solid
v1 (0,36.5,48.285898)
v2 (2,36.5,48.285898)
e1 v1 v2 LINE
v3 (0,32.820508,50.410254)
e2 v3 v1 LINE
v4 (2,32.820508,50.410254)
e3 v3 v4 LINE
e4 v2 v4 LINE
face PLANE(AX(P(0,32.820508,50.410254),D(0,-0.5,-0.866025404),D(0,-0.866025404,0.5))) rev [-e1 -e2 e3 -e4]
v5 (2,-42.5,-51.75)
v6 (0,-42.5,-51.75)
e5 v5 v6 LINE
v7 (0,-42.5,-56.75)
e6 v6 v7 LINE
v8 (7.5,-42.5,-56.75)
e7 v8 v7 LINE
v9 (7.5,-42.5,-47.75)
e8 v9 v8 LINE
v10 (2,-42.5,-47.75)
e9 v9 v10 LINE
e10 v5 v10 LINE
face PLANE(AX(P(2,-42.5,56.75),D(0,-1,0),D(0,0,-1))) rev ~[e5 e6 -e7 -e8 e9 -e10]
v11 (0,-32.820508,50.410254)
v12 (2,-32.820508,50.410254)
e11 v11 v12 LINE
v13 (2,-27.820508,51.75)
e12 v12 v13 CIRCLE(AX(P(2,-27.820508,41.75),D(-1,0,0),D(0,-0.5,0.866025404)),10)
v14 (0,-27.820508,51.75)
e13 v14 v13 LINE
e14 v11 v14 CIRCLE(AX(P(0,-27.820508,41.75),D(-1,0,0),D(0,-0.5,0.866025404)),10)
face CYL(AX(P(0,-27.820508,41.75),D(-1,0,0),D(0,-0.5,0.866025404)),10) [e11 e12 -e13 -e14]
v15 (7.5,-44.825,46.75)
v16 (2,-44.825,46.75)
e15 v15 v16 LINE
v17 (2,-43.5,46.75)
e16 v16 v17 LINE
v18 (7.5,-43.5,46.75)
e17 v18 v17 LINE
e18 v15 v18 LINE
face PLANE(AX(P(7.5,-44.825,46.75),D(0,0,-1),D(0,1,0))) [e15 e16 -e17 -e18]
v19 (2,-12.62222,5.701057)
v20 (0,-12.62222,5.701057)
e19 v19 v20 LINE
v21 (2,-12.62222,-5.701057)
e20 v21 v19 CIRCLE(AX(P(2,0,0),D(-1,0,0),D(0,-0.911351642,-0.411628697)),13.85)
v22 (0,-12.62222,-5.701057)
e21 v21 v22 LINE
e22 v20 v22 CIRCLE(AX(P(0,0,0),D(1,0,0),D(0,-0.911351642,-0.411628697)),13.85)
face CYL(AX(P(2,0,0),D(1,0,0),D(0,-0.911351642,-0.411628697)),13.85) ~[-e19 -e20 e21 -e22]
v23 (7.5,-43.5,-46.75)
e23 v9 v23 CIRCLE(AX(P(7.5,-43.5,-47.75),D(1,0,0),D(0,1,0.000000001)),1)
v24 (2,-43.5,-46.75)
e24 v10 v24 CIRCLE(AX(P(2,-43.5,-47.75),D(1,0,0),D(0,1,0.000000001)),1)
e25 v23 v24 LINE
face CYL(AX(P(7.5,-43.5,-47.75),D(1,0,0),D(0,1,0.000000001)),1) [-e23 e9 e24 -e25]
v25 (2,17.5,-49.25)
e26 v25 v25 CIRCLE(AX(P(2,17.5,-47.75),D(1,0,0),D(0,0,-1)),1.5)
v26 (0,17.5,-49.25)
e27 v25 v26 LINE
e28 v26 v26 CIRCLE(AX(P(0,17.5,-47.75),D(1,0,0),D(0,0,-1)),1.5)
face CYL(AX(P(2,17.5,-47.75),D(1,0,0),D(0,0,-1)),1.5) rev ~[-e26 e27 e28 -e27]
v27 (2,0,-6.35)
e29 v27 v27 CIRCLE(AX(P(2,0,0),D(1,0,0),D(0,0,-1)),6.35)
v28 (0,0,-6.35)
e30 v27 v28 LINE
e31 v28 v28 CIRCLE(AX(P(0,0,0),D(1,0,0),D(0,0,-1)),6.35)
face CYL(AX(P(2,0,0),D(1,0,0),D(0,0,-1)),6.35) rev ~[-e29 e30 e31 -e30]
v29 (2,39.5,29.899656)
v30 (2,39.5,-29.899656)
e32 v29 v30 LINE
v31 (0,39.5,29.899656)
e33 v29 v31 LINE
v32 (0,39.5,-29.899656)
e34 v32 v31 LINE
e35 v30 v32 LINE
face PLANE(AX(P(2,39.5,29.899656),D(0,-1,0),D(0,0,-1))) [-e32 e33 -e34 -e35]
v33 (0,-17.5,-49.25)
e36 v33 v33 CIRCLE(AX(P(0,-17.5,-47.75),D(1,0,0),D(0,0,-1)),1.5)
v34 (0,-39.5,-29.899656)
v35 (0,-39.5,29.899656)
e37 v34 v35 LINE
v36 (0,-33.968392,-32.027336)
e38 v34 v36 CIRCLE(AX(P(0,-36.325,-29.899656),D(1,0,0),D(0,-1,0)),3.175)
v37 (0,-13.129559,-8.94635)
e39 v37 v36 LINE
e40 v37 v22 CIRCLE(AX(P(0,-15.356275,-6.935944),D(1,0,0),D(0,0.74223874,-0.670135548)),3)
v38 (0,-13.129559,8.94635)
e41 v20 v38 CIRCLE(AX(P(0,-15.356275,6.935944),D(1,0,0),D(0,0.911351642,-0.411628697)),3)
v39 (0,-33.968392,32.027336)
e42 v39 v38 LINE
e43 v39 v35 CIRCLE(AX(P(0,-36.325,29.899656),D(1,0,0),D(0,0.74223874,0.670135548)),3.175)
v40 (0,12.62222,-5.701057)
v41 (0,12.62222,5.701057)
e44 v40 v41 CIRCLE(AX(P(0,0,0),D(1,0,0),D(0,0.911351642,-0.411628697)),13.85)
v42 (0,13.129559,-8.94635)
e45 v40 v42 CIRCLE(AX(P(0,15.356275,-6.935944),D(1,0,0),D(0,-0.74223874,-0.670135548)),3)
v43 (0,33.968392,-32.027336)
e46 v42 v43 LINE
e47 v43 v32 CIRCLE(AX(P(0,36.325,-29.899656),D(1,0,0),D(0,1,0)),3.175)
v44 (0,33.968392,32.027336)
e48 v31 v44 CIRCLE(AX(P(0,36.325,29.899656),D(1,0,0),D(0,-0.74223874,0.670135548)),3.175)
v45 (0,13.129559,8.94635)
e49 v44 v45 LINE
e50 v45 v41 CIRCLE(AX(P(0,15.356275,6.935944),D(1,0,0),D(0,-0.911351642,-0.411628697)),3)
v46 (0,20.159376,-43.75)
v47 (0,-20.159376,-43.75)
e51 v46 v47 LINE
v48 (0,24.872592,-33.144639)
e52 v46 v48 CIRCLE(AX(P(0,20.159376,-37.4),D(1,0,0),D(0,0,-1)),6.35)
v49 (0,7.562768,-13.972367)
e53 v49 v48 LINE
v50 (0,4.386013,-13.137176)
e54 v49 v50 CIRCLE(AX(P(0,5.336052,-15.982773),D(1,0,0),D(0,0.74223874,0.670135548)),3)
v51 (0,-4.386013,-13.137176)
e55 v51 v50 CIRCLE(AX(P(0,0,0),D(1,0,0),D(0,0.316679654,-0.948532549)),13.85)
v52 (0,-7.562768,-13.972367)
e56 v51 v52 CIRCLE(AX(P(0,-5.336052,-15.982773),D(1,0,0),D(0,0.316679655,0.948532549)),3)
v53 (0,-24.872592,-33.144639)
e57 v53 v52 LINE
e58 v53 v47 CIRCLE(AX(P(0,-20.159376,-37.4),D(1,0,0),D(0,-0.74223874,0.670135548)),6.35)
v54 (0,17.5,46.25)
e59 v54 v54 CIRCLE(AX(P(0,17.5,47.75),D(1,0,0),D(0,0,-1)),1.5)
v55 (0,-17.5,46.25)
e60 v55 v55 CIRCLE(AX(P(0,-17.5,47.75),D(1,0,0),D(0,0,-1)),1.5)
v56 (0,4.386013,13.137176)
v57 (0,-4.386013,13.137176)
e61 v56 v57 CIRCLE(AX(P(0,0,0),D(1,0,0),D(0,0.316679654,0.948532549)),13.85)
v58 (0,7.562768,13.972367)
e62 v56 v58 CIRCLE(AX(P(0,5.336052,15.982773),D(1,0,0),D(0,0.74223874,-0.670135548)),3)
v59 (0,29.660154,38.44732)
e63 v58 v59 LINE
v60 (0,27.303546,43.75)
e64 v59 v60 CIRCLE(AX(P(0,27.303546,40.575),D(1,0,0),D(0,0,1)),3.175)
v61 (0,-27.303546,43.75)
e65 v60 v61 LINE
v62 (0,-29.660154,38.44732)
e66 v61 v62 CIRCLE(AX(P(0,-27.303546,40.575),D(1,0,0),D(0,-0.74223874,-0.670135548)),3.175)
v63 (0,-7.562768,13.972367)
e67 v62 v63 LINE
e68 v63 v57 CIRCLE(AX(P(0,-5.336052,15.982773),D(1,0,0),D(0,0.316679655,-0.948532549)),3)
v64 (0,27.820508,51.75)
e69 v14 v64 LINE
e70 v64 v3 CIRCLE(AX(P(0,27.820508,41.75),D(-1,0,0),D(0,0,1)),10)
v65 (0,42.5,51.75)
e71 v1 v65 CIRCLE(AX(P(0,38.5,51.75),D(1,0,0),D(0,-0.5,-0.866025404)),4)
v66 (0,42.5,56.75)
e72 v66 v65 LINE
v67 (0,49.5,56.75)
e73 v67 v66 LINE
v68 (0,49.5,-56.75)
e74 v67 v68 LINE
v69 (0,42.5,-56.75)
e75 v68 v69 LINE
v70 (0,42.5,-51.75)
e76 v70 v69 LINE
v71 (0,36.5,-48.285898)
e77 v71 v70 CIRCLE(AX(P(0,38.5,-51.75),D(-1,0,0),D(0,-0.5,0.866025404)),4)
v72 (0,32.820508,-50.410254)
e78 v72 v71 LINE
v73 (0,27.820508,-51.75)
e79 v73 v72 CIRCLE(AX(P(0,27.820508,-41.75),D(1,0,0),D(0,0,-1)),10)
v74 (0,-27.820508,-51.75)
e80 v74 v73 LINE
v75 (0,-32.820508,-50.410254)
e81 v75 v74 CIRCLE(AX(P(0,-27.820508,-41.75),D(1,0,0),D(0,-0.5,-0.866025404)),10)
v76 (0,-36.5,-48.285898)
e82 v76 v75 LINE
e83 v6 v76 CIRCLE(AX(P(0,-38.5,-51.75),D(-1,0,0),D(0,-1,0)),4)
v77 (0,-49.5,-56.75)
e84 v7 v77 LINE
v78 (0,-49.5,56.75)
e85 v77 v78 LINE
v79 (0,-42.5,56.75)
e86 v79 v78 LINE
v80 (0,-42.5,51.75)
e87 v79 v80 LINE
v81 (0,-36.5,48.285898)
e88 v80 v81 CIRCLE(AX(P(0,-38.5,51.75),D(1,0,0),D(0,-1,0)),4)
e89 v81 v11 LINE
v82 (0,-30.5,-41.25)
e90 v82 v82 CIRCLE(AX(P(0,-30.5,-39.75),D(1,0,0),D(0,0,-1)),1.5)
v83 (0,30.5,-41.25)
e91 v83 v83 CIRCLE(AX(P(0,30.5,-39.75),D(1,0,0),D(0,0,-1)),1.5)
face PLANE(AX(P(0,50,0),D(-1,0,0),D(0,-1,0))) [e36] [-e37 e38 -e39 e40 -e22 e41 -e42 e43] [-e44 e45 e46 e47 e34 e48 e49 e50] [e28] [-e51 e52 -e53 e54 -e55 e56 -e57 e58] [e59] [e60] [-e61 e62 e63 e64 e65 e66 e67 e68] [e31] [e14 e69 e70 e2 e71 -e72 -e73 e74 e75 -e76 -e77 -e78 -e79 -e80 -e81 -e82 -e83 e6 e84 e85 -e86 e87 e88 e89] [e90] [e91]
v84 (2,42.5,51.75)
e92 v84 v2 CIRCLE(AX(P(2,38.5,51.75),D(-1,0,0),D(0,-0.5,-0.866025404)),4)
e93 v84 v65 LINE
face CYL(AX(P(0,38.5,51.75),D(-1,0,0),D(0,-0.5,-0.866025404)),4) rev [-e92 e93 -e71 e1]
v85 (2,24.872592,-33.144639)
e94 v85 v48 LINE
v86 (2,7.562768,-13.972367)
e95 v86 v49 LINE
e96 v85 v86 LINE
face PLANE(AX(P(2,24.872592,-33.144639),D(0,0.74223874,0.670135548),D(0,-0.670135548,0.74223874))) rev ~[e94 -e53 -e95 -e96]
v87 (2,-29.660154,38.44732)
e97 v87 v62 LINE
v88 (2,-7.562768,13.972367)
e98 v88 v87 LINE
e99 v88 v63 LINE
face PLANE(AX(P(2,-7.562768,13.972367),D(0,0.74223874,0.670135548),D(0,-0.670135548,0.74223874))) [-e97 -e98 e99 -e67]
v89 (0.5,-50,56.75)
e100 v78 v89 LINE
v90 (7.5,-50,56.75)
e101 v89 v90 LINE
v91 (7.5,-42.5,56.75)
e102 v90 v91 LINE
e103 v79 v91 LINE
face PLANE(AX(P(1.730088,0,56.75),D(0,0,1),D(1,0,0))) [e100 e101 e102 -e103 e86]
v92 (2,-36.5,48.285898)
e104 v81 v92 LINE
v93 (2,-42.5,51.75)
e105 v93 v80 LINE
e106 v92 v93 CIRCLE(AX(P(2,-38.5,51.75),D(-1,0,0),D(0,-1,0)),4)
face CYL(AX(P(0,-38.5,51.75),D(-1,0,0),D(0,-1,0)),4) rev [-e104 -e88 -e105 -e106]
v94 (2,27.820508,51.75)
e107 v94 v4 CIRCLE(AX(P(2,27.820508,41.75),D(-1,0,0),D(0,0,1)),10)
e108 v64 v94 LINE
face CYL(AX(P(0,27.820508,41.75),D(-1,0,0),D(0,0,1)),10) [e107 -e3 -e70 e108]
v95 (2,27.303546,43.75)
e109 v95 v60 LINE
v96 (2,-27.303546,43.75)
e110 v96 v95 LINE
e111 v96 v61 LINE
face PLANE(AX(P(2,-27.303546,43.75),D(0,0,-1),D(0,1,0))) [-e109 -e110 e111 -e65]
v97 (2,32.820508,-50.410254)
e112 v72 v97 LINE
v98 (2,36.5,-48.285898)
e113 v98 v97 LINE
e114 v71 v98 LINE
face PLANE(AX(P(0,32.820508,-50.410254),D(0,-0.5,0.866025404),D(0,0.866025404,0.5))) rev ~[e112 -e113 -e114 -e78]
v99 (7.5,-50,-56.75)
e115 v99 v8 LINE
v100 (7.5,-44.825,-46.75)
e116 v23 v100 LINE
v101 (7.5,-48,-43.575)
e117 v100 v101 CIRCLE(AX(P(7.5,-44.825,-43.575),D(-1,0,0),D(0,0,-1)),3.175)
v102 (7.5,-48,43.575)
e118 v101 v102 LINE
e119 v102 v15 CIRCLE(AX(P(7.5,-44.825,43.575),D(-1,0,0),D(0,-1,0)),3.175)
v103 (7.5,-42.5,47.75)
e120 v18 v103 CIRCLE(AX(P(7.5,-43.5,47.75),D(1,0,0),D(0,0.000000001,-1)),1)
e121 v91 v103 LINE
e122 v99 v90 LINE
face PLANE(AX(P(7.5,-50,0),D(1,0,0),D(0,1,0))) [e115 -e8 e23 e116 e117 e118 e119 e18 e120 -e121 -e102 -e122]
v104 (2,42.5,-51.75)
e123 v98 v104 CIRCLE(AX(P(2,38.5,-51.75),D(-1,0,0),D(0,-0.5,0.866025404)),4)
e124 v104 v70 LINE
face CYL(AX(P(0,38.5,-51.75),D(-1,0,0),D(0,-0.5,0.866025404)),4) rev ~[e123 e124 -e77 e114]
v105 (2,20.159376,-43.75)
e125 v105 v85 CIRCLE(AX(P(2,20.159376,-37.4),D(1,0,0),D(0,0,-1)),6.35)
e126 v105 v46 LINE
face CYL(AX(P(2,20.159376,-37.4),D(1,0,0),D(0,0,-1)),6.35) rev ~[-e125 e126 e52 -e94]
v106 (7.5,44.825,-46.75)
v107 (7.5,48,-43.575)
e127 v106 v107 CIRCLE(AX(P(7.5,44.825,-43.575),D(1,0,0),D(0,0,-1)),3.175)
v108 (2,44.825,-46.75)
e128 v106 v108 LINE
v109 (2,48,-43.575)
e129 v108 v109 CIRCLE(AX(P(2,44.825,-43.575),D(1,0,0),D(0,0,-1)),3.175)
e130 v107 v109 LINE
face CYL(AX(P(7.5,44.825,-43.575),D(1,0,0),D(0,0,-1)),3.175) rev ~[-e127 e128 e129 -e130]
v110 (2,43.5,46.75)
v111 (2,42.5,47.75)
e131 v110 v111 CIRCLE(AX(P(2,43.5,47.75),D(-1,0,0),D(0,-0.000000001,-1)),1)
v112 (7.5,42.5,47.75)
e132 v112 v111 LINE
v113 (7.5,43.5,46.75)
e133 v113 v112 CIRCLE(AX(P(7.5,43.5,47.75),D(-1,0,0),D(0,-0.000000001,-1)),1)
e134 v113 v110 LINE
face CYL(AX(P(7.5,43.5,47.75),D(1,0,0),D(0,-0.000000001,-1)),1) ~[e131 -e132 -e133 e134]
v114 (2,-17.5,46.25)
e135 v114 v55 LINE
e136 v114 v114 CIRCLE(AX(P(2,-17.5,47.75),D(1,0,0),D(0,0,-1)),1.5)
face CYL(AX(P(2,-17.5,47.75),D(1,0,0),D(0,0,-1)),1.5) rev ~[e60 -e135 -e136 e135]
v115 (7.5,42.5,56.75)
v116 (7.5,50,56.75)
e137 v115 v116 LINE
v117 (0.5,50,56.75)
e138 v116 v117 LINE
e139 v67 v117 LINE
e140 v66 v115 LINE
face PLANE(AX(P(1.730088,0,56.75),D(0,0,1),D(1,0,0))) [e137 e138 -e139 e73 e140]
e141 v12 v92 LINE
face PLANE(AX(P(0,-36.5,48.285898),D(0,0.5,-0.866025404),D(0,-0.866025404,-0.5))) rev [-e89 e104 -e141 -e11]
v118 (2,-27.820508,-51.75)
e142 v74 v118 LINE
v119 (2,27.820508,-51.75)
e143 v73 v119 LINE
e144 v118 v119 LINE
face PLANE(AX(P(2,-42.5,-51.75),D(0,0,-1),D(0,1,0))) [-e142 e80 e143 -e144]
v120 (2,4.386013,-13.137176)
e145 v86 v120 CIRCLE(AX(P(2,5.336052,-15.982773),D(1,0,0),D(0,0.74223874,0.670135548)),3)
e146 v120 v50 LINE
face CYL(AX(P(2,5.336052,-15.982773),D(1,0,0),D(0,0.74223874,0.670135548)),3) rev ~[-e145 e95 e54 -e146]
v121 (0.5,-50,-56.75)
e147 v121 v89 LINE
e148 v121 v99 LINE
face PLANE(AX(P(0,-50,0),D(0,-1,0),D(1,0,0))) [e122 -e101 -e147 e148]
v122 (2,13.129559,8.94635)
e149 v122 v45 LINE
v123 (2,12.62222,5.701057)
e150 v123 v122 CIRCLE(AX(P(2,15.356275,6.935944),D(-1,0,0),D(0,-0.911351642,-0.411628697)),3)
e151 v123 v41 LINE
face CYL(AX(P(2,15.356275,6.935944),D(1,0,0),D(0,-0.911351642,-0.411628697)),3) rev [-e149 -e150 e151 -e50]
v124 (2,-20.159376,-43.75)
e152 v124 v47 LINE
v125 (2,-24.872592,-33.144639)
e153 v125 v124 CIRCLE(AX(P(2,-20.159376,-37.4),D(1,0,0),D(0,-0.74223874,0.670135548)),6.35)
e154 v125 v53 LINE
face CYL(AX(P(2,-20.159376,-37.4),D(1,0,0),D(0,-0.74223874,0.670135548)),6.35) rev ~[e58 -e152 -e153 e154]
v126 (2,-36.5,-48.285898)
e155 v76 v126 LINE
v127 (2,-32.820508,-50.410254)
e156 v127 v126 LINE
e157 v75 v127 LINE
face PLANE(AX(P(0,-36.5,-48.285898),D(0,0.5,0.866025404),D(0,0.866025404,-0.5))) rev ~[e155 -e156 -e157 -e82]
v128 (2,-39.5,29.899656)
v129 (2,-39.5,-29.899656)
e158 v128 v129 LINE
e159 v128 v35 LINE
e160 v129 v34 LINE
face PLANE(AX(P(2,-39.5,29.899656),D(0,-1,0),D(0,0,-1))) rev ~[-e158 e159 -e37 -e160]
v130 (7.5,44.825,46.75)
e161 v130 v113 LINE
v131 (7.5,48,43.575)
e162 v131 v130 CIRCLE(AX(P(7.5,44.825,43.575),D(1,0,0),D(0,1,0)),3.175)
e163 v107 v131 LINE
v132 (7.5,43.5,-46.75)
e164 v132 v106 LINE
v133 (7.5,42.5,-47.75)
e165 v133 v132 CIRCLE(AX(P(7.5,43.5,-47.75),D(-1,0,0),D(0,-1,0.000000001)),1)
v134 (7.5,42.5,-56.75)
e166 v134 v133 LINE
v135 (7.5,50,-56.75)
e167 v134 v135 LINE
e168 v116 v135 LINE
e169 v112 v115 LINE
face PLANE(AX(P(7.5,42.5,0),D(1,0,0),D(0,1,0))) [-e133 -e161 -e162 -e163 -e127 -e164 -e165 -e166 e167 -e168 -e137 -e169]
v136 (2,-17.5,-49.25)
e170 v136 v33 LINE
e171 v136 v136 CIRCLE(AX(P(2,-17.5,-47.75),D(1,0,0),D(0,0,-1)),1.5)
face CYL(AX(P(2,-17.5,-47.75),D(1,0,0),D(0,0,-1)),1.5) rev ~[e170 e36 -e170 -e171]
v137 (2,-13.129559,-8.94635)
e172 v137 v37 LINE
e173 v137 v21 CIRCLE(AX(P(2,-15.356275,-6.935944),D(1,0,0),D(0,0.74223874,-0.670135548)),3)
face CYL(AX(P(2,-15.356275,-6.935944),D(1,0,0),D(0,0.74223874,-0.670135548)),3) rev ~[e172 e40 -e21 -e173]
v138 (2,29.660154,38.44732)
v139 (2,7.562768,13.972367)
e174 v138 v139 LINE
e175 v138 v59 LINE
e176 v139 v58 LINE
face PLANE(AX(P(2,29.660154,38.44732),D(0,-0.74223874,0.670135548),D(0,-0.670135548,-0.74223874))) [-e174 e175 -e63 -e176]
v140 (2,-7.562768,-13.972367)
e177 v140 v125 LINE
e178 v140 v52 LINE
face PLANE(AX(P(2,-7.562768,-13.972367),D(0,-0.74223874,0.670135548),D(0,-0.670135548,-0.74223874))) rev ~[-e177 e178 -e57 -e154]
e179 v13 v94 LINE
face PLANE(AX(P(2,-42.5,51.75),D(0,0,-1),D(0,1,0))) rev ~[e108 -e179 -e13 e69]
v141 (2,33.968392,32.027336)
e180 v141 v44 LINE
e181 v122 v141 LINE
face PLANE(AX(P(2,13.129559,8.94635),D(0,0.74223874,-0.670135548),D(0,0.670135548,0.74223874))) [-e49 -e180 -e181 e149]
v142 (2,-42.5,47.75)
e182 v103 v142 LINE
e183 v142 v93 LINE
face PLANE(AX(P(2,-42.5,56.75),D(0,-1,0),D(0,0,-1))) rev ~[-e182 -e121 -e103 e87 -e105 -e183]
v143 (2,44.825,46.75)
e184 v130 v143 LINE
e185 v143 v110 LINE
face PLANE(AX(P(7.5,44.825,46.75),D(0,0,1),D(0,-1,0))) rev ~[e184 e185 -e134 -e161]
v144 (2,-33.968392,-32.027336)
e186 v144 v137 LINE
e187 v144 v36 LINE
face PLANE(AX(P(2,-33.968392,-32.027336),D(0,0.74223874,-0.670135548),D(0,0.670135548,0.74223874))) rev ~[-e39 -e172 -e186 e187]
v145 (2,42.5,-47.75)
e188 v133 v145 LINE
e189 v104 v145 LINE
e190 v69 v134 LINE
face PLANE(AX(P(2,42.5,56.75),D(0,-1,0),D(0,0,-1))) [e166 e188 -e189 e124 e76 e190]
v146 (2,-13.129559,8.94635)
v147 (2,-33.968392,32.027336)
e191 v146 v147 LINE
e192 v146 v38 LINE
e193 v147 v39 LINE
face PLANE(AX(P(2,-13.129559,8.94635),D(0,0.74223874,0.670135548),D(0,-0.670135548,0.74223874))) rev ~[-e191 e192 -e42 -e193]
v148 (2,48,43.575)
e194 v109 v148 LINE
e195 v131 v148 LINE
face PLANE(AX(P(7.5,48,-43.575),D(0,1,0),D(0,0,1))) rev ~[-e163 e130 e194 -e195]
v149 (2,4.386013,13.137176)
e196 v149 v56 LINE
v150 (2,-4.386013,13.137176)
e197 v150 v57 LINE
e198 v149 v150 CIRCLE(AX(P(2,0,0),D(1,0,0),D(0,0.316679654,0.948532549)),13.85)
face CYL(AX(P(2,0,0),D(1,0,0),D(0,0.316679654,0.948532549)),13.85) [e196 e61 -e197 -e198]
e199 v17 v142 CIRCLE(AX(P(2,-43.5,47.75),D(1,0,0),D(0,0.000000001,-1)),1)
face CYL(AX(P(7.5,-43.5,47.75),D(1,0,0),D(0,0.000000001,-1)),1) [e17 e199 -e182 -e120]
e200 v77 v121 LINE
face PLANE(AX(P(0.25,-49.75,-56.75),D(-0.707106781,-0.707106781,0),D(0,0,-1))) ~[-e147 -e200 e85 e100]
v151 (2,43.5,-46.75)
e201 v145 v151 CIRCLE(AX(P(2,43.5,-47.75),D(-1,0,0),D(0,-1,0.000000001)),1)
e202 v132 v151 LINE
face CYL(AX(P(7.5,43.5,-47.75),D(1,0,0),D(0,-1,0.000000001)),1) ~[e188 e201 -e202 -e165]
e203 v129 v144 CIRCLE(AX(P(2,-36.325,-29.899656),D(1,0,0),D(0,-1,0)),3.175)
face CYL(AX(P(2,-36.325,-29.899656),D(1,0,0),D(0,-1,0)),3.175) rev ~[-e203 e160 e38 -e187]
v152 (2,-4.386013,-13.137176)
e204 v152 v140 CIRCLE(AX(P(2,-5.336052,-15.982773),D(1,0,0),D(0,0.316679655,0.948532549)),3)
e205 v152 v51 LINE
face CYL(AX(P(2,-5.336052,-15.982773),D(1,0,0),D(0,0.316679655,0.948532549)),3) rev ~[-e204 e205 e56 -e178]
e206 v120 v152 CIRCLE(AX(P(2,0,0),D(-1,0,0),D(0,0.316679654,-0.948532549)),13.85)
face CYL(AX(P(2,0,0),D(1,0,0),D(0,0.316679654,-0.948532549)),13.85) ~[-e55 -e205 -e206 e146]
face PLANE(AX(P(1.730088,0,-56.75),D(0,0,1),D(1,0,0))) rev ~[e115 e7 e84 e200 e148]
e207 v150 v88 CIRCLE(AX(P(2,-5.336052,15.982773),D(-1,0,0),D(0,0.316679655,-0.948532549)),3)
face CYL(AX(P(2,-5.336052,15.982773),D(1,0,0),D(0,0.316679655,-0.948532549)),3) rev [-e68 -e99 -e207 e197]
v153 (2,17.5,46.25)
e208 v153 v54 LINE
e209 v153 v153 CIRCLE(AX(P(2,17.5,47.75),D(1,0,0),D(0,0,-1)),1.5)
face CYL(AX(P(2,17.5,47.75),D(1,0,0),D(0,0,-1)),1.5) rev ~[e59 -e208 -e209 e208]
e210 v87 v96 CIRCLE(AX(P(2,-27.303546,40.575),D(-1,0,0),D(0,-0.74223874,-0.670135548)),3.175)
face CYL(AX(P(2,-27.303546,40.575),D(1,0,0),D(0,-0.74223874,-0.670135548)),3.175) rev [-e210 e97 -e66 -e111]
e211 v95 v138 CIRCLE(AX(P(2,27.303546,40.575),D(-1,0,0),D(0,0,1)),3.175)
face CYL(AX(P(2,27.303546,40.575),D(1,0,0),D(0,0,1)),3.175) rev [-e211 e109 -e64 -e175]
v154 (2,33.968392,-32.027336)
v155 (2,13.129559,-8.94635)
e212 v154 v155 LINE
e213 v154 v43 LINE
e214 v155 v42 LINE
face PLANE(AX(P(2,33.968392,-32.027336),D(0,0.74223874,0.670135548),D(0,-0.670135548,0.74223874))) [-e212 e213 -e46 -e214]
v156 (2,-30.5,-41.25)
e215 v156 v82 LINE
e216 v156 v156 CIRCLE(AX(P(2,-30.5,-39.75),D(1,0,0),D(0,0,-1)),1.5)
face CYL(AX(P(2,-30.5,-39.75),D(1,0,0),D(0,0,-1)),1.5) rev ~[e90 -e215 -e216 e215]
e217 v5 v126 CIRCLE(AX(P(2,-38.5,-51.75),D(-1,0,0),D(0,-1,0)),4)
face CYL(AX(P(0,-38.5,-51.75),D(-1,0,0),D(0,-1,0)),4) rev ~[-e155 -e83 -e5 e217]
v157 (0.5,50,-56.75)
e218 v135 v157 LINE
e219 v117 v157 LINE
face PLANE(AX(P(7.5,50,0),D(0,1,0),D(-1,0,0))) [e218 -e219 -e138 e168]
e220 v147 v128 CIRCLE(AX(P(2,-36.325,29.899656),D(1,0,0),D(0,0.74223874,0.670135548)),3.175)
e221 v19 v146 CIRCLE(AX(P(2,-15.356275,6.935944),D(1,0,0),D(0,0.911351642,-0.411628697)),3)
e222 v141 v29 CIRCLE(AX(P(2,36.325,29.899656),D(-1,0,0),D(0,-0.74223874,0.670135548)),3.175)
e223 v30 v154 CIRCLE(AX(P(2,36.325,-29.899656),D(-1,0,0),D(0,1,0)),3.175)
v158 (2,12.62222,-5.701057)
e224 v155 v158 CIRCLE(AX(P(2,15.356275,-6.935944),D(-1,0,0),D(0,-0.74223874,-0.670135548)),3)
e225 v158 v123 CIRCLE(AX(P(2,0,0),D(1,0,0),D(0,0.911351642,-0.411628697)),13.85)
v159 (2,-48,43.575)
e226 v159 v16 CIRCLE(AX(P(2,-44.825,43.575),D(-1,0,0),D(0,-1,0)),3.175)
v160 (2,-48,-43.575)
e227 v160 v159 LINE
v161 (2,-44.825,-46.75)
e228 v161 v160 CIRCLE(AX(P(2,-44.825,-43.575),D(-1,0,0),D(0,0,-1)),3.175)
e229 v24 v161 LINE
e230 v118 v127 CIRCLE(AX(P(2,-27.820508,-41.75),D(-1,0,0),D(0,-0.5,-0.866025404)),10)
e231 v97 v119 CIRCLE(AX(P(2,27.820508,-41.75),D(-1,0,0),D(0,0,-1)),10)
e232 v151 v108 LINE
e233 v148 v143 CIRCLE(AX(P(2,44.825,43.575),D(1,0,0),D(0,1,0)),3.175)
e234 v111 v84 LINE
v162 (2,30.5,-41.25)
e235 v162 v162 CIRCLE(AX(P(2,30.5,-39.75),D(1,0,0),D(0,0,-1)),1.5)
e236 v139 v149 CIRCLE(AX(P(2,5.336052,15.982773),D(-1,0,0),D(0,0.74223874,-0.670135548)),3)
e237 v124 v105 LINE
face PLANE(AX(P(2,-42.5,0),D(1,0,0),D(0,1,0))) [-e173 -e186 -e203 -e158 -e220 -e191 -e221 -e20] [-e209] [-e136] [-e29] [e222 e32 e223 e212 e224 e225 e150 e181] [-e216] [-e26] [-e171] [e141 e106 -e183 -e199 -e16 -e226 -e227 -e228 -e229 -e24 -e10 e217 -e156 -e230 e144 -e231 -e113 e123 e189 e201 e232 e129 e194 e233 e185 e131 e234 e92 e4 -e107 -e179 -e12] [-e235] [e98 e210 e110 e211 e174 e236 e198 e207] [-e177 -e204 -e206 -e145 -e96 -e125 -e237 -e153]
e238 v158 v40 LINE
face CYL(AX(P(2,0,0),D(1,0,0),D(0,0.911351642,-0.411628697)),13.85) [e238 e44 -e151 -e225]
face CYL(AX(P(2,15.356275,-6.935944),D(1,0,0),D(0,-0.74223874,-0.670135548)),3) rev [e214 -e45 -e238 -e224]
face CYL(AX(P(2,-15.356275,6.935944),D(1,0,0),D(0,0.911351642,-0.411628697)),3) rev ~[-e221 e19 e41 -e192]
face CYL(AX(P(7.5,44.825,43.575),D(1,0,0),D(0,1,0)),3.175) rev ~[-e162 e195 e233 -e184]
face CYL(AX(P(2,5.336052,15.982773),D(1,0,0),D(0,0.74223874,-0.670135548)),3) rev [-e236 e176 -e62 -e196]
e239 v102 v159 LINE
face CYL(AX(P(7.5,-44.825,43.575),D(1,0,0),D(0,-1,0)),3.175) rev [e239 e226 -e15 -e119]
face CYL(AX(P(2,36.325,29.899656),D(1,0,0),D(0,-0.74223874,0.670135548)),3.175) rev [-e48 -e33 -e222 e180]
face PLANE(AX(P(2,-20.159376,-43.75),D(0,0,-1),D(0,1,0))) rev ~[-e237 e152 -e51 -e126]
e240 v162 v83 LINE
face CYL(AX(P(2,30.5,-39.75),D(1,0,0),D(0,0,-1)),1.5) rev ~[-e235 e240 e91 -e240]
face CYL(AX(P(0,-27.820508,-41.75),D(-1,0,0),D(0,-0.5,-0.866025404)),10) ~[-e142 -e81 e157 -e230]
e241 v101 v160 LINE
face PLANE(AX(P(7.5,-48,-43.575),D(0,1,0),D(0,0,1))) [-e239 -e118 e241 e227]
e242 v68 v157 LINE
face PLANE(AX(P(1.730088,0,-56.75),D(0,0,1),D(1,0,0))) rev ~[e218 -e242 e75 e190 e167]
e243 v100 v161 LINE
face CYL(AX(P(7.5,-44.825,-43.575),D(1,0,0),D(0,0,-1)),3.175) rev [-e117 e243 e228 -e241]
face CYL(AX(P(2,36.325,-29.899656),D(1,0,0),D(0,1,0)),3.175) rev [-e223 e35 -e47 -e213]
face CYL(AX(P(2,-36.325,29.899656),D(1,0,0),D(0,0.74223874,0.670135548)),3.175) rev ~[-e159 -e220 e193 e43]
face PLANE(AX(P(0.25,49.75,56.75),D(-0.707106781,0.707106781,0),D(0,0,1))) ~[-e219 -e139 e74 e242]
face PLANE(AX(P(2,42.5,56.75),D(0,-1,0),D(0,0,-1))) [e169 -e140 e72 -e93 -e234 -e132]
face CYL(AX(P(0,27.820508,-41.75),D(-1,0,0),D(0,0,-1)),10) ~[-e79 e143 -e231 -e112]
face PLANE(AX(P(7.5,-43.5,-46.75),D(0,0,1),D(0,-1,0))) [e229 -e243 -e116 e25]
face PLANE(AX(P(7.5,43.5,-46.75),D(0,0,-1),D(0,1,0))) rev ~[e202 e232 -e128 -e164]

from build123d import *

# Parameters (mm, degrees)
BOSS_EXTRUDE1_DEPTH = 56.75
SKETCH2_W           = 5
SKETCH2_H           = 85
SKETCH2_R           = 1.5
CUT_EXTRUDE1_DEPTH  = 2
SKETCH3_R           = 6.35
SKETCH3_R_2         = 1.5
CUT_EXTRUDE2_DEPTH  = 3
CHAMFER1_SIZE       = 0.5
CUT_EXTRUDE3_DEPTH  = 5.5
CUT_EXTRUDE4_DEPTH  = 10


with BuildPart() as part:
    # Sketch1 → Boss-Extrude1 (new body, symmetric)
    with BuildSketch(Plane.XY):
        Polygon((0, 50), (0, -50), (7.5, -50), (7.5, -42.5), (2, -42.5), (2, 42.5), (7.5, 42.5), (7.5, 50), align=None)
    extrude(amount=BOSS_EXTRUDE1_DEPTH, both=True)

    # Sketch2 → Cut-Extrude1 (cut)
    with BuildSketch(Plane(origin=(2, 0, 0), x_dir=(0, 0, -1), z_dir=(1, 0, 0))):
        with Locations((-54.25, 0)):
            Rectangle(SKETCH2_W, SKETCH2_H)
        with Locations((54.25, 0)):
            Rectangle(SKETCH2_W, SKETCH2_H)
        with Locations((-47.75, 17.5)):
            Circle(SKETCH2_R)
        with Locations((-47.75, -17.5)):
            Circle(SKETCH2_R)
        with Locations((47.75, 17.5)):
            Circle(SKETCH2_R)
        with Locations((47.75, -17.5)):
            Circle(SKETCH2_R)
    extrude(amount=-CUT_EXTRUDE1_DEPTH, mode=Mode.SUBTRACT)

    # Sketch3 → Cut-Extrude2 (cut, through all)
    with BuildSketch(Plane(origin=(2, 0, 0), x_dir=(0, 0, -1), z_dir=(1, 0, 0))):
        Circle(SKETCH3_R)
        with Locations((39.75, 30.5)):
            Circle(SKETCH3_R_2)
        with Locations((39.75, -30.5)):
            Circle(SKETCH3_R_2)
        with BuildLine():
            Line((-29.899655804, -39.5), (29.899655804, -39.5))
            ThreePointArc((29.899655804, -39.5), (32.863003185, -37.464823364), (32.027336169, -33.968392001))
            Line((32.027336169, -33.968392001), (8.946350194, -13.129558949))
            ThreePointArc((8.946350194, -13.129558949), (7.399307524, -12.392275536), (5.701057458, -12.622220243))
            ThreePointArc((5.701057458, -12.622220243), (0, -13.85), (-5.701057458, -12.622220243))
            ThreePointArc((-5.701057458, -12.622220243), (-7.399307524, -12.392275536), (-8.946350194, -13.129558949))
            Line((-8.946350194, -13.129558949), (-32.027336169, -33.968392001))
            ThreePointArc((-32.027336169, -33.968392001), (-32.863003185, -37.464823364), (-29.899655804, -39.5))
        make_face()
        with BuildLine():
            Line((-43.75, -27.303546383), (-43.75, 27.303546383))
            ThreePointArc((-43.75, 27.303546383), (-41.864426198, 30.204926241), (-38.447319635, 29.660154382))
            Line((-38.447319635, 29.660154382), (-13.972366805, 7.562768399))
            ThreePointArc((-13.972366805, 7.562768399), (-13.081370721, 6.098851109), (-13.137175803, 4.386013216))
            ThreePointArc((-13.137175803, 4.386013216), (-13.85, 0), (-13.137175803, -4.386013216))
            ThreePointArc((-13.137175803, -4.386013216), (-13.081370721, -6.098851109), (-13.972366805, -7.562768399))
            Line((-13.972366805, -7.562768399), (-38.447319635, -29.660154382))
            ThreePointArc((-38.447319635, -29.660154382), (-41.864426198, -30.204926241), (-43.75, -27.303546383))
        make_face()
        with BuildLine():
            Line((-29.899655804, 39.5), (29.899655804, 39.5))
            ThreePointArc((29.899655804, 39.5), (32.863003185, 37.464823364), (32.027336169, 33.968392001))
            Line((32.027336169, 33.968392001), (8.946350194, 13.129558949))
            ThreePointArc((8.946350194, 13.129558949), (7.399307524, 12.392275536), (5.701057458, 12.622220243))
            ThreePointArc((5.701057458, 12.622220243), (0, 13.85), (-5.701057458, 12.622220243))
            ThreePointArc((-5.701057458, 12.622220243), (-7.399307524, 12.392275536), (-8.946350194, 13.129558949))
            Line((-8.946350194, 13.129558949), (-32.027336169, 33.968392001))
            ThreePointArc((-32.027336169, 33.968392001), (-32.863003185, 37.464823364), (-29.899655804, 39.5))
        make_face()
        with BuildLine():
            Line((43.75, -20.159375539), (43.75, 20.159375539))
            ThreePointArc((43.75, 20.159375539), (39.978852396, 25.962135255), (33.144639269, 24.872591538))
            Line((33.144639269, 24.872591538), (13.972366805, 7.562768399))
            ThreePointArc((13.972366805, 7.562768399), (13.081370721, 6.098851109), (13.137175803, 4.386013216))
            ThreePointArc((13.137175803, 4.386013216), (13.85, 0), (13.137175803, -4.386013216))
            ThreePointArc((13.137175803, -4.386013216), (13.081370721, -6.098851109), (13.972366805, -7.562768399))
            Line((13.972366805, -7.562768399), (33.144639269, -24.872591538))
            ThreePointArc((33.144639269, -24.872591538), (39.978852396, -25.962135255), (43.75, -20.159375539))
        make_face()
    extrude(amount=-CUT_EXTRUDE2_DEPTH, mode=Mode.SUBTRACT)

    # Chamfer1
    chamfer1_edges = [part.edges().sort_by_distance(p)[0] for p in [
        (0, -50, 0),
        (0, 50, 0),
    ]]
    chamfer(chamfer1_edges, length=CHAMFER1_SIZE)

    # Sketch4 → Cut-Extrude3 (cut)
    with BuildSketch(Plane(origin=(7.5, 0, 0), x_dir=(0, 0, -1), z_dir=(1, 0, 0))):
        with BuildLine():
            Line((43.575, -48), (-43.575, -48))
            ThreePointArc((-43.575, -48), (-45.82006403, -47.07006403), (-46.75, -44.825))
            Line((-46.75, -44.825), (-46.75, -43.5))
            ThreePointArc((-46.75, -43.5), (-47.042893219, -42.792893219), (-47.75, -42.5))
            Line((-47.75, -42.5), (47.75, -42.5))
            ThreePointArc((47.75, -42.5), (47.042893219, -42.792893219), (46.75, -43.5))
            Line((46.75, -43.5), (46.75, -44.825))
            ThreePointArc((46.75, -44.825), (45.82006403, -47.07006403), (43.575, -48))
        make_face()
        with BuildLine():
            Line((-46.75, 44.825), (-46.75, 43.5))
            ThreePointArc((-46.75, 43.5), (-47.042893219, 42.792893219), (-47.75, 42.5))
            Line((-47.75, 42.5), (47.75, 42.5))
            ThreePointArc((47.75, 42.5), (47.042893219, 42.792893219), (46.75, 43.5))
            Line((46.75, 43.5), (46.75, 44.825))
            ThreePointArc((46.75, 44.825), (45.82006403, 47.07006403), (43.575, 48))
            Line((43.575, 48), (-43.575, 48))
            ThreePointArc((-43.575, 48), (-45.82006403, 47.07006403), (-46.75, 44.825))
        make_face()
    extrude(amount=-CUT_EXTRUDE3_DEPTH, mode=Mode.SUBTRACT)

    # Sketch5 → Cut-Extrude4 (cut)
    with BuildSketch(Plane.ZY):
        with BuildLine():
            ThreePointArc((-51.75, 27.820508076), (-51.409258263, 30.408698527), (-50.410254038, 32.820508076))
            Line((-50.410254038, 32.820508076), (-48.285898385, 36.5))
            ThreePointArc((-48.285898385, 36.5), (-48.285898385, 40.5), (-51.75, 42.5))
            Line((-51.75, 42.5), (-51.75, 27.820508076))
        make_face()
        with BuildLine():
            ThreePointArc((-50.410254038, -32.820508076), (-51.409258263, -30.408698527), (-51.75, -27.820508076))
            Line((-51.75, -27.820508076), (-51.75, -42.5))
            ThreePointArc((-51.75, -42.5), (-48.285898385, -40.5), (-48.285898385, -36.5))
            Line((-48.285898385, -36.5), (-50.410254038, -32.820508076))
        make_face()
    cut_extrude4 = extrude(amount=-CUT_EXTRUDE4_DEPTH, mode=Mode.SUBTRACT)

    # Mirror1: Cut-Extrude4 across plane
    add(cut_extrude4.mirror(Plane.XY), mode=Mode.SUBTRACT)


solid = part.part
